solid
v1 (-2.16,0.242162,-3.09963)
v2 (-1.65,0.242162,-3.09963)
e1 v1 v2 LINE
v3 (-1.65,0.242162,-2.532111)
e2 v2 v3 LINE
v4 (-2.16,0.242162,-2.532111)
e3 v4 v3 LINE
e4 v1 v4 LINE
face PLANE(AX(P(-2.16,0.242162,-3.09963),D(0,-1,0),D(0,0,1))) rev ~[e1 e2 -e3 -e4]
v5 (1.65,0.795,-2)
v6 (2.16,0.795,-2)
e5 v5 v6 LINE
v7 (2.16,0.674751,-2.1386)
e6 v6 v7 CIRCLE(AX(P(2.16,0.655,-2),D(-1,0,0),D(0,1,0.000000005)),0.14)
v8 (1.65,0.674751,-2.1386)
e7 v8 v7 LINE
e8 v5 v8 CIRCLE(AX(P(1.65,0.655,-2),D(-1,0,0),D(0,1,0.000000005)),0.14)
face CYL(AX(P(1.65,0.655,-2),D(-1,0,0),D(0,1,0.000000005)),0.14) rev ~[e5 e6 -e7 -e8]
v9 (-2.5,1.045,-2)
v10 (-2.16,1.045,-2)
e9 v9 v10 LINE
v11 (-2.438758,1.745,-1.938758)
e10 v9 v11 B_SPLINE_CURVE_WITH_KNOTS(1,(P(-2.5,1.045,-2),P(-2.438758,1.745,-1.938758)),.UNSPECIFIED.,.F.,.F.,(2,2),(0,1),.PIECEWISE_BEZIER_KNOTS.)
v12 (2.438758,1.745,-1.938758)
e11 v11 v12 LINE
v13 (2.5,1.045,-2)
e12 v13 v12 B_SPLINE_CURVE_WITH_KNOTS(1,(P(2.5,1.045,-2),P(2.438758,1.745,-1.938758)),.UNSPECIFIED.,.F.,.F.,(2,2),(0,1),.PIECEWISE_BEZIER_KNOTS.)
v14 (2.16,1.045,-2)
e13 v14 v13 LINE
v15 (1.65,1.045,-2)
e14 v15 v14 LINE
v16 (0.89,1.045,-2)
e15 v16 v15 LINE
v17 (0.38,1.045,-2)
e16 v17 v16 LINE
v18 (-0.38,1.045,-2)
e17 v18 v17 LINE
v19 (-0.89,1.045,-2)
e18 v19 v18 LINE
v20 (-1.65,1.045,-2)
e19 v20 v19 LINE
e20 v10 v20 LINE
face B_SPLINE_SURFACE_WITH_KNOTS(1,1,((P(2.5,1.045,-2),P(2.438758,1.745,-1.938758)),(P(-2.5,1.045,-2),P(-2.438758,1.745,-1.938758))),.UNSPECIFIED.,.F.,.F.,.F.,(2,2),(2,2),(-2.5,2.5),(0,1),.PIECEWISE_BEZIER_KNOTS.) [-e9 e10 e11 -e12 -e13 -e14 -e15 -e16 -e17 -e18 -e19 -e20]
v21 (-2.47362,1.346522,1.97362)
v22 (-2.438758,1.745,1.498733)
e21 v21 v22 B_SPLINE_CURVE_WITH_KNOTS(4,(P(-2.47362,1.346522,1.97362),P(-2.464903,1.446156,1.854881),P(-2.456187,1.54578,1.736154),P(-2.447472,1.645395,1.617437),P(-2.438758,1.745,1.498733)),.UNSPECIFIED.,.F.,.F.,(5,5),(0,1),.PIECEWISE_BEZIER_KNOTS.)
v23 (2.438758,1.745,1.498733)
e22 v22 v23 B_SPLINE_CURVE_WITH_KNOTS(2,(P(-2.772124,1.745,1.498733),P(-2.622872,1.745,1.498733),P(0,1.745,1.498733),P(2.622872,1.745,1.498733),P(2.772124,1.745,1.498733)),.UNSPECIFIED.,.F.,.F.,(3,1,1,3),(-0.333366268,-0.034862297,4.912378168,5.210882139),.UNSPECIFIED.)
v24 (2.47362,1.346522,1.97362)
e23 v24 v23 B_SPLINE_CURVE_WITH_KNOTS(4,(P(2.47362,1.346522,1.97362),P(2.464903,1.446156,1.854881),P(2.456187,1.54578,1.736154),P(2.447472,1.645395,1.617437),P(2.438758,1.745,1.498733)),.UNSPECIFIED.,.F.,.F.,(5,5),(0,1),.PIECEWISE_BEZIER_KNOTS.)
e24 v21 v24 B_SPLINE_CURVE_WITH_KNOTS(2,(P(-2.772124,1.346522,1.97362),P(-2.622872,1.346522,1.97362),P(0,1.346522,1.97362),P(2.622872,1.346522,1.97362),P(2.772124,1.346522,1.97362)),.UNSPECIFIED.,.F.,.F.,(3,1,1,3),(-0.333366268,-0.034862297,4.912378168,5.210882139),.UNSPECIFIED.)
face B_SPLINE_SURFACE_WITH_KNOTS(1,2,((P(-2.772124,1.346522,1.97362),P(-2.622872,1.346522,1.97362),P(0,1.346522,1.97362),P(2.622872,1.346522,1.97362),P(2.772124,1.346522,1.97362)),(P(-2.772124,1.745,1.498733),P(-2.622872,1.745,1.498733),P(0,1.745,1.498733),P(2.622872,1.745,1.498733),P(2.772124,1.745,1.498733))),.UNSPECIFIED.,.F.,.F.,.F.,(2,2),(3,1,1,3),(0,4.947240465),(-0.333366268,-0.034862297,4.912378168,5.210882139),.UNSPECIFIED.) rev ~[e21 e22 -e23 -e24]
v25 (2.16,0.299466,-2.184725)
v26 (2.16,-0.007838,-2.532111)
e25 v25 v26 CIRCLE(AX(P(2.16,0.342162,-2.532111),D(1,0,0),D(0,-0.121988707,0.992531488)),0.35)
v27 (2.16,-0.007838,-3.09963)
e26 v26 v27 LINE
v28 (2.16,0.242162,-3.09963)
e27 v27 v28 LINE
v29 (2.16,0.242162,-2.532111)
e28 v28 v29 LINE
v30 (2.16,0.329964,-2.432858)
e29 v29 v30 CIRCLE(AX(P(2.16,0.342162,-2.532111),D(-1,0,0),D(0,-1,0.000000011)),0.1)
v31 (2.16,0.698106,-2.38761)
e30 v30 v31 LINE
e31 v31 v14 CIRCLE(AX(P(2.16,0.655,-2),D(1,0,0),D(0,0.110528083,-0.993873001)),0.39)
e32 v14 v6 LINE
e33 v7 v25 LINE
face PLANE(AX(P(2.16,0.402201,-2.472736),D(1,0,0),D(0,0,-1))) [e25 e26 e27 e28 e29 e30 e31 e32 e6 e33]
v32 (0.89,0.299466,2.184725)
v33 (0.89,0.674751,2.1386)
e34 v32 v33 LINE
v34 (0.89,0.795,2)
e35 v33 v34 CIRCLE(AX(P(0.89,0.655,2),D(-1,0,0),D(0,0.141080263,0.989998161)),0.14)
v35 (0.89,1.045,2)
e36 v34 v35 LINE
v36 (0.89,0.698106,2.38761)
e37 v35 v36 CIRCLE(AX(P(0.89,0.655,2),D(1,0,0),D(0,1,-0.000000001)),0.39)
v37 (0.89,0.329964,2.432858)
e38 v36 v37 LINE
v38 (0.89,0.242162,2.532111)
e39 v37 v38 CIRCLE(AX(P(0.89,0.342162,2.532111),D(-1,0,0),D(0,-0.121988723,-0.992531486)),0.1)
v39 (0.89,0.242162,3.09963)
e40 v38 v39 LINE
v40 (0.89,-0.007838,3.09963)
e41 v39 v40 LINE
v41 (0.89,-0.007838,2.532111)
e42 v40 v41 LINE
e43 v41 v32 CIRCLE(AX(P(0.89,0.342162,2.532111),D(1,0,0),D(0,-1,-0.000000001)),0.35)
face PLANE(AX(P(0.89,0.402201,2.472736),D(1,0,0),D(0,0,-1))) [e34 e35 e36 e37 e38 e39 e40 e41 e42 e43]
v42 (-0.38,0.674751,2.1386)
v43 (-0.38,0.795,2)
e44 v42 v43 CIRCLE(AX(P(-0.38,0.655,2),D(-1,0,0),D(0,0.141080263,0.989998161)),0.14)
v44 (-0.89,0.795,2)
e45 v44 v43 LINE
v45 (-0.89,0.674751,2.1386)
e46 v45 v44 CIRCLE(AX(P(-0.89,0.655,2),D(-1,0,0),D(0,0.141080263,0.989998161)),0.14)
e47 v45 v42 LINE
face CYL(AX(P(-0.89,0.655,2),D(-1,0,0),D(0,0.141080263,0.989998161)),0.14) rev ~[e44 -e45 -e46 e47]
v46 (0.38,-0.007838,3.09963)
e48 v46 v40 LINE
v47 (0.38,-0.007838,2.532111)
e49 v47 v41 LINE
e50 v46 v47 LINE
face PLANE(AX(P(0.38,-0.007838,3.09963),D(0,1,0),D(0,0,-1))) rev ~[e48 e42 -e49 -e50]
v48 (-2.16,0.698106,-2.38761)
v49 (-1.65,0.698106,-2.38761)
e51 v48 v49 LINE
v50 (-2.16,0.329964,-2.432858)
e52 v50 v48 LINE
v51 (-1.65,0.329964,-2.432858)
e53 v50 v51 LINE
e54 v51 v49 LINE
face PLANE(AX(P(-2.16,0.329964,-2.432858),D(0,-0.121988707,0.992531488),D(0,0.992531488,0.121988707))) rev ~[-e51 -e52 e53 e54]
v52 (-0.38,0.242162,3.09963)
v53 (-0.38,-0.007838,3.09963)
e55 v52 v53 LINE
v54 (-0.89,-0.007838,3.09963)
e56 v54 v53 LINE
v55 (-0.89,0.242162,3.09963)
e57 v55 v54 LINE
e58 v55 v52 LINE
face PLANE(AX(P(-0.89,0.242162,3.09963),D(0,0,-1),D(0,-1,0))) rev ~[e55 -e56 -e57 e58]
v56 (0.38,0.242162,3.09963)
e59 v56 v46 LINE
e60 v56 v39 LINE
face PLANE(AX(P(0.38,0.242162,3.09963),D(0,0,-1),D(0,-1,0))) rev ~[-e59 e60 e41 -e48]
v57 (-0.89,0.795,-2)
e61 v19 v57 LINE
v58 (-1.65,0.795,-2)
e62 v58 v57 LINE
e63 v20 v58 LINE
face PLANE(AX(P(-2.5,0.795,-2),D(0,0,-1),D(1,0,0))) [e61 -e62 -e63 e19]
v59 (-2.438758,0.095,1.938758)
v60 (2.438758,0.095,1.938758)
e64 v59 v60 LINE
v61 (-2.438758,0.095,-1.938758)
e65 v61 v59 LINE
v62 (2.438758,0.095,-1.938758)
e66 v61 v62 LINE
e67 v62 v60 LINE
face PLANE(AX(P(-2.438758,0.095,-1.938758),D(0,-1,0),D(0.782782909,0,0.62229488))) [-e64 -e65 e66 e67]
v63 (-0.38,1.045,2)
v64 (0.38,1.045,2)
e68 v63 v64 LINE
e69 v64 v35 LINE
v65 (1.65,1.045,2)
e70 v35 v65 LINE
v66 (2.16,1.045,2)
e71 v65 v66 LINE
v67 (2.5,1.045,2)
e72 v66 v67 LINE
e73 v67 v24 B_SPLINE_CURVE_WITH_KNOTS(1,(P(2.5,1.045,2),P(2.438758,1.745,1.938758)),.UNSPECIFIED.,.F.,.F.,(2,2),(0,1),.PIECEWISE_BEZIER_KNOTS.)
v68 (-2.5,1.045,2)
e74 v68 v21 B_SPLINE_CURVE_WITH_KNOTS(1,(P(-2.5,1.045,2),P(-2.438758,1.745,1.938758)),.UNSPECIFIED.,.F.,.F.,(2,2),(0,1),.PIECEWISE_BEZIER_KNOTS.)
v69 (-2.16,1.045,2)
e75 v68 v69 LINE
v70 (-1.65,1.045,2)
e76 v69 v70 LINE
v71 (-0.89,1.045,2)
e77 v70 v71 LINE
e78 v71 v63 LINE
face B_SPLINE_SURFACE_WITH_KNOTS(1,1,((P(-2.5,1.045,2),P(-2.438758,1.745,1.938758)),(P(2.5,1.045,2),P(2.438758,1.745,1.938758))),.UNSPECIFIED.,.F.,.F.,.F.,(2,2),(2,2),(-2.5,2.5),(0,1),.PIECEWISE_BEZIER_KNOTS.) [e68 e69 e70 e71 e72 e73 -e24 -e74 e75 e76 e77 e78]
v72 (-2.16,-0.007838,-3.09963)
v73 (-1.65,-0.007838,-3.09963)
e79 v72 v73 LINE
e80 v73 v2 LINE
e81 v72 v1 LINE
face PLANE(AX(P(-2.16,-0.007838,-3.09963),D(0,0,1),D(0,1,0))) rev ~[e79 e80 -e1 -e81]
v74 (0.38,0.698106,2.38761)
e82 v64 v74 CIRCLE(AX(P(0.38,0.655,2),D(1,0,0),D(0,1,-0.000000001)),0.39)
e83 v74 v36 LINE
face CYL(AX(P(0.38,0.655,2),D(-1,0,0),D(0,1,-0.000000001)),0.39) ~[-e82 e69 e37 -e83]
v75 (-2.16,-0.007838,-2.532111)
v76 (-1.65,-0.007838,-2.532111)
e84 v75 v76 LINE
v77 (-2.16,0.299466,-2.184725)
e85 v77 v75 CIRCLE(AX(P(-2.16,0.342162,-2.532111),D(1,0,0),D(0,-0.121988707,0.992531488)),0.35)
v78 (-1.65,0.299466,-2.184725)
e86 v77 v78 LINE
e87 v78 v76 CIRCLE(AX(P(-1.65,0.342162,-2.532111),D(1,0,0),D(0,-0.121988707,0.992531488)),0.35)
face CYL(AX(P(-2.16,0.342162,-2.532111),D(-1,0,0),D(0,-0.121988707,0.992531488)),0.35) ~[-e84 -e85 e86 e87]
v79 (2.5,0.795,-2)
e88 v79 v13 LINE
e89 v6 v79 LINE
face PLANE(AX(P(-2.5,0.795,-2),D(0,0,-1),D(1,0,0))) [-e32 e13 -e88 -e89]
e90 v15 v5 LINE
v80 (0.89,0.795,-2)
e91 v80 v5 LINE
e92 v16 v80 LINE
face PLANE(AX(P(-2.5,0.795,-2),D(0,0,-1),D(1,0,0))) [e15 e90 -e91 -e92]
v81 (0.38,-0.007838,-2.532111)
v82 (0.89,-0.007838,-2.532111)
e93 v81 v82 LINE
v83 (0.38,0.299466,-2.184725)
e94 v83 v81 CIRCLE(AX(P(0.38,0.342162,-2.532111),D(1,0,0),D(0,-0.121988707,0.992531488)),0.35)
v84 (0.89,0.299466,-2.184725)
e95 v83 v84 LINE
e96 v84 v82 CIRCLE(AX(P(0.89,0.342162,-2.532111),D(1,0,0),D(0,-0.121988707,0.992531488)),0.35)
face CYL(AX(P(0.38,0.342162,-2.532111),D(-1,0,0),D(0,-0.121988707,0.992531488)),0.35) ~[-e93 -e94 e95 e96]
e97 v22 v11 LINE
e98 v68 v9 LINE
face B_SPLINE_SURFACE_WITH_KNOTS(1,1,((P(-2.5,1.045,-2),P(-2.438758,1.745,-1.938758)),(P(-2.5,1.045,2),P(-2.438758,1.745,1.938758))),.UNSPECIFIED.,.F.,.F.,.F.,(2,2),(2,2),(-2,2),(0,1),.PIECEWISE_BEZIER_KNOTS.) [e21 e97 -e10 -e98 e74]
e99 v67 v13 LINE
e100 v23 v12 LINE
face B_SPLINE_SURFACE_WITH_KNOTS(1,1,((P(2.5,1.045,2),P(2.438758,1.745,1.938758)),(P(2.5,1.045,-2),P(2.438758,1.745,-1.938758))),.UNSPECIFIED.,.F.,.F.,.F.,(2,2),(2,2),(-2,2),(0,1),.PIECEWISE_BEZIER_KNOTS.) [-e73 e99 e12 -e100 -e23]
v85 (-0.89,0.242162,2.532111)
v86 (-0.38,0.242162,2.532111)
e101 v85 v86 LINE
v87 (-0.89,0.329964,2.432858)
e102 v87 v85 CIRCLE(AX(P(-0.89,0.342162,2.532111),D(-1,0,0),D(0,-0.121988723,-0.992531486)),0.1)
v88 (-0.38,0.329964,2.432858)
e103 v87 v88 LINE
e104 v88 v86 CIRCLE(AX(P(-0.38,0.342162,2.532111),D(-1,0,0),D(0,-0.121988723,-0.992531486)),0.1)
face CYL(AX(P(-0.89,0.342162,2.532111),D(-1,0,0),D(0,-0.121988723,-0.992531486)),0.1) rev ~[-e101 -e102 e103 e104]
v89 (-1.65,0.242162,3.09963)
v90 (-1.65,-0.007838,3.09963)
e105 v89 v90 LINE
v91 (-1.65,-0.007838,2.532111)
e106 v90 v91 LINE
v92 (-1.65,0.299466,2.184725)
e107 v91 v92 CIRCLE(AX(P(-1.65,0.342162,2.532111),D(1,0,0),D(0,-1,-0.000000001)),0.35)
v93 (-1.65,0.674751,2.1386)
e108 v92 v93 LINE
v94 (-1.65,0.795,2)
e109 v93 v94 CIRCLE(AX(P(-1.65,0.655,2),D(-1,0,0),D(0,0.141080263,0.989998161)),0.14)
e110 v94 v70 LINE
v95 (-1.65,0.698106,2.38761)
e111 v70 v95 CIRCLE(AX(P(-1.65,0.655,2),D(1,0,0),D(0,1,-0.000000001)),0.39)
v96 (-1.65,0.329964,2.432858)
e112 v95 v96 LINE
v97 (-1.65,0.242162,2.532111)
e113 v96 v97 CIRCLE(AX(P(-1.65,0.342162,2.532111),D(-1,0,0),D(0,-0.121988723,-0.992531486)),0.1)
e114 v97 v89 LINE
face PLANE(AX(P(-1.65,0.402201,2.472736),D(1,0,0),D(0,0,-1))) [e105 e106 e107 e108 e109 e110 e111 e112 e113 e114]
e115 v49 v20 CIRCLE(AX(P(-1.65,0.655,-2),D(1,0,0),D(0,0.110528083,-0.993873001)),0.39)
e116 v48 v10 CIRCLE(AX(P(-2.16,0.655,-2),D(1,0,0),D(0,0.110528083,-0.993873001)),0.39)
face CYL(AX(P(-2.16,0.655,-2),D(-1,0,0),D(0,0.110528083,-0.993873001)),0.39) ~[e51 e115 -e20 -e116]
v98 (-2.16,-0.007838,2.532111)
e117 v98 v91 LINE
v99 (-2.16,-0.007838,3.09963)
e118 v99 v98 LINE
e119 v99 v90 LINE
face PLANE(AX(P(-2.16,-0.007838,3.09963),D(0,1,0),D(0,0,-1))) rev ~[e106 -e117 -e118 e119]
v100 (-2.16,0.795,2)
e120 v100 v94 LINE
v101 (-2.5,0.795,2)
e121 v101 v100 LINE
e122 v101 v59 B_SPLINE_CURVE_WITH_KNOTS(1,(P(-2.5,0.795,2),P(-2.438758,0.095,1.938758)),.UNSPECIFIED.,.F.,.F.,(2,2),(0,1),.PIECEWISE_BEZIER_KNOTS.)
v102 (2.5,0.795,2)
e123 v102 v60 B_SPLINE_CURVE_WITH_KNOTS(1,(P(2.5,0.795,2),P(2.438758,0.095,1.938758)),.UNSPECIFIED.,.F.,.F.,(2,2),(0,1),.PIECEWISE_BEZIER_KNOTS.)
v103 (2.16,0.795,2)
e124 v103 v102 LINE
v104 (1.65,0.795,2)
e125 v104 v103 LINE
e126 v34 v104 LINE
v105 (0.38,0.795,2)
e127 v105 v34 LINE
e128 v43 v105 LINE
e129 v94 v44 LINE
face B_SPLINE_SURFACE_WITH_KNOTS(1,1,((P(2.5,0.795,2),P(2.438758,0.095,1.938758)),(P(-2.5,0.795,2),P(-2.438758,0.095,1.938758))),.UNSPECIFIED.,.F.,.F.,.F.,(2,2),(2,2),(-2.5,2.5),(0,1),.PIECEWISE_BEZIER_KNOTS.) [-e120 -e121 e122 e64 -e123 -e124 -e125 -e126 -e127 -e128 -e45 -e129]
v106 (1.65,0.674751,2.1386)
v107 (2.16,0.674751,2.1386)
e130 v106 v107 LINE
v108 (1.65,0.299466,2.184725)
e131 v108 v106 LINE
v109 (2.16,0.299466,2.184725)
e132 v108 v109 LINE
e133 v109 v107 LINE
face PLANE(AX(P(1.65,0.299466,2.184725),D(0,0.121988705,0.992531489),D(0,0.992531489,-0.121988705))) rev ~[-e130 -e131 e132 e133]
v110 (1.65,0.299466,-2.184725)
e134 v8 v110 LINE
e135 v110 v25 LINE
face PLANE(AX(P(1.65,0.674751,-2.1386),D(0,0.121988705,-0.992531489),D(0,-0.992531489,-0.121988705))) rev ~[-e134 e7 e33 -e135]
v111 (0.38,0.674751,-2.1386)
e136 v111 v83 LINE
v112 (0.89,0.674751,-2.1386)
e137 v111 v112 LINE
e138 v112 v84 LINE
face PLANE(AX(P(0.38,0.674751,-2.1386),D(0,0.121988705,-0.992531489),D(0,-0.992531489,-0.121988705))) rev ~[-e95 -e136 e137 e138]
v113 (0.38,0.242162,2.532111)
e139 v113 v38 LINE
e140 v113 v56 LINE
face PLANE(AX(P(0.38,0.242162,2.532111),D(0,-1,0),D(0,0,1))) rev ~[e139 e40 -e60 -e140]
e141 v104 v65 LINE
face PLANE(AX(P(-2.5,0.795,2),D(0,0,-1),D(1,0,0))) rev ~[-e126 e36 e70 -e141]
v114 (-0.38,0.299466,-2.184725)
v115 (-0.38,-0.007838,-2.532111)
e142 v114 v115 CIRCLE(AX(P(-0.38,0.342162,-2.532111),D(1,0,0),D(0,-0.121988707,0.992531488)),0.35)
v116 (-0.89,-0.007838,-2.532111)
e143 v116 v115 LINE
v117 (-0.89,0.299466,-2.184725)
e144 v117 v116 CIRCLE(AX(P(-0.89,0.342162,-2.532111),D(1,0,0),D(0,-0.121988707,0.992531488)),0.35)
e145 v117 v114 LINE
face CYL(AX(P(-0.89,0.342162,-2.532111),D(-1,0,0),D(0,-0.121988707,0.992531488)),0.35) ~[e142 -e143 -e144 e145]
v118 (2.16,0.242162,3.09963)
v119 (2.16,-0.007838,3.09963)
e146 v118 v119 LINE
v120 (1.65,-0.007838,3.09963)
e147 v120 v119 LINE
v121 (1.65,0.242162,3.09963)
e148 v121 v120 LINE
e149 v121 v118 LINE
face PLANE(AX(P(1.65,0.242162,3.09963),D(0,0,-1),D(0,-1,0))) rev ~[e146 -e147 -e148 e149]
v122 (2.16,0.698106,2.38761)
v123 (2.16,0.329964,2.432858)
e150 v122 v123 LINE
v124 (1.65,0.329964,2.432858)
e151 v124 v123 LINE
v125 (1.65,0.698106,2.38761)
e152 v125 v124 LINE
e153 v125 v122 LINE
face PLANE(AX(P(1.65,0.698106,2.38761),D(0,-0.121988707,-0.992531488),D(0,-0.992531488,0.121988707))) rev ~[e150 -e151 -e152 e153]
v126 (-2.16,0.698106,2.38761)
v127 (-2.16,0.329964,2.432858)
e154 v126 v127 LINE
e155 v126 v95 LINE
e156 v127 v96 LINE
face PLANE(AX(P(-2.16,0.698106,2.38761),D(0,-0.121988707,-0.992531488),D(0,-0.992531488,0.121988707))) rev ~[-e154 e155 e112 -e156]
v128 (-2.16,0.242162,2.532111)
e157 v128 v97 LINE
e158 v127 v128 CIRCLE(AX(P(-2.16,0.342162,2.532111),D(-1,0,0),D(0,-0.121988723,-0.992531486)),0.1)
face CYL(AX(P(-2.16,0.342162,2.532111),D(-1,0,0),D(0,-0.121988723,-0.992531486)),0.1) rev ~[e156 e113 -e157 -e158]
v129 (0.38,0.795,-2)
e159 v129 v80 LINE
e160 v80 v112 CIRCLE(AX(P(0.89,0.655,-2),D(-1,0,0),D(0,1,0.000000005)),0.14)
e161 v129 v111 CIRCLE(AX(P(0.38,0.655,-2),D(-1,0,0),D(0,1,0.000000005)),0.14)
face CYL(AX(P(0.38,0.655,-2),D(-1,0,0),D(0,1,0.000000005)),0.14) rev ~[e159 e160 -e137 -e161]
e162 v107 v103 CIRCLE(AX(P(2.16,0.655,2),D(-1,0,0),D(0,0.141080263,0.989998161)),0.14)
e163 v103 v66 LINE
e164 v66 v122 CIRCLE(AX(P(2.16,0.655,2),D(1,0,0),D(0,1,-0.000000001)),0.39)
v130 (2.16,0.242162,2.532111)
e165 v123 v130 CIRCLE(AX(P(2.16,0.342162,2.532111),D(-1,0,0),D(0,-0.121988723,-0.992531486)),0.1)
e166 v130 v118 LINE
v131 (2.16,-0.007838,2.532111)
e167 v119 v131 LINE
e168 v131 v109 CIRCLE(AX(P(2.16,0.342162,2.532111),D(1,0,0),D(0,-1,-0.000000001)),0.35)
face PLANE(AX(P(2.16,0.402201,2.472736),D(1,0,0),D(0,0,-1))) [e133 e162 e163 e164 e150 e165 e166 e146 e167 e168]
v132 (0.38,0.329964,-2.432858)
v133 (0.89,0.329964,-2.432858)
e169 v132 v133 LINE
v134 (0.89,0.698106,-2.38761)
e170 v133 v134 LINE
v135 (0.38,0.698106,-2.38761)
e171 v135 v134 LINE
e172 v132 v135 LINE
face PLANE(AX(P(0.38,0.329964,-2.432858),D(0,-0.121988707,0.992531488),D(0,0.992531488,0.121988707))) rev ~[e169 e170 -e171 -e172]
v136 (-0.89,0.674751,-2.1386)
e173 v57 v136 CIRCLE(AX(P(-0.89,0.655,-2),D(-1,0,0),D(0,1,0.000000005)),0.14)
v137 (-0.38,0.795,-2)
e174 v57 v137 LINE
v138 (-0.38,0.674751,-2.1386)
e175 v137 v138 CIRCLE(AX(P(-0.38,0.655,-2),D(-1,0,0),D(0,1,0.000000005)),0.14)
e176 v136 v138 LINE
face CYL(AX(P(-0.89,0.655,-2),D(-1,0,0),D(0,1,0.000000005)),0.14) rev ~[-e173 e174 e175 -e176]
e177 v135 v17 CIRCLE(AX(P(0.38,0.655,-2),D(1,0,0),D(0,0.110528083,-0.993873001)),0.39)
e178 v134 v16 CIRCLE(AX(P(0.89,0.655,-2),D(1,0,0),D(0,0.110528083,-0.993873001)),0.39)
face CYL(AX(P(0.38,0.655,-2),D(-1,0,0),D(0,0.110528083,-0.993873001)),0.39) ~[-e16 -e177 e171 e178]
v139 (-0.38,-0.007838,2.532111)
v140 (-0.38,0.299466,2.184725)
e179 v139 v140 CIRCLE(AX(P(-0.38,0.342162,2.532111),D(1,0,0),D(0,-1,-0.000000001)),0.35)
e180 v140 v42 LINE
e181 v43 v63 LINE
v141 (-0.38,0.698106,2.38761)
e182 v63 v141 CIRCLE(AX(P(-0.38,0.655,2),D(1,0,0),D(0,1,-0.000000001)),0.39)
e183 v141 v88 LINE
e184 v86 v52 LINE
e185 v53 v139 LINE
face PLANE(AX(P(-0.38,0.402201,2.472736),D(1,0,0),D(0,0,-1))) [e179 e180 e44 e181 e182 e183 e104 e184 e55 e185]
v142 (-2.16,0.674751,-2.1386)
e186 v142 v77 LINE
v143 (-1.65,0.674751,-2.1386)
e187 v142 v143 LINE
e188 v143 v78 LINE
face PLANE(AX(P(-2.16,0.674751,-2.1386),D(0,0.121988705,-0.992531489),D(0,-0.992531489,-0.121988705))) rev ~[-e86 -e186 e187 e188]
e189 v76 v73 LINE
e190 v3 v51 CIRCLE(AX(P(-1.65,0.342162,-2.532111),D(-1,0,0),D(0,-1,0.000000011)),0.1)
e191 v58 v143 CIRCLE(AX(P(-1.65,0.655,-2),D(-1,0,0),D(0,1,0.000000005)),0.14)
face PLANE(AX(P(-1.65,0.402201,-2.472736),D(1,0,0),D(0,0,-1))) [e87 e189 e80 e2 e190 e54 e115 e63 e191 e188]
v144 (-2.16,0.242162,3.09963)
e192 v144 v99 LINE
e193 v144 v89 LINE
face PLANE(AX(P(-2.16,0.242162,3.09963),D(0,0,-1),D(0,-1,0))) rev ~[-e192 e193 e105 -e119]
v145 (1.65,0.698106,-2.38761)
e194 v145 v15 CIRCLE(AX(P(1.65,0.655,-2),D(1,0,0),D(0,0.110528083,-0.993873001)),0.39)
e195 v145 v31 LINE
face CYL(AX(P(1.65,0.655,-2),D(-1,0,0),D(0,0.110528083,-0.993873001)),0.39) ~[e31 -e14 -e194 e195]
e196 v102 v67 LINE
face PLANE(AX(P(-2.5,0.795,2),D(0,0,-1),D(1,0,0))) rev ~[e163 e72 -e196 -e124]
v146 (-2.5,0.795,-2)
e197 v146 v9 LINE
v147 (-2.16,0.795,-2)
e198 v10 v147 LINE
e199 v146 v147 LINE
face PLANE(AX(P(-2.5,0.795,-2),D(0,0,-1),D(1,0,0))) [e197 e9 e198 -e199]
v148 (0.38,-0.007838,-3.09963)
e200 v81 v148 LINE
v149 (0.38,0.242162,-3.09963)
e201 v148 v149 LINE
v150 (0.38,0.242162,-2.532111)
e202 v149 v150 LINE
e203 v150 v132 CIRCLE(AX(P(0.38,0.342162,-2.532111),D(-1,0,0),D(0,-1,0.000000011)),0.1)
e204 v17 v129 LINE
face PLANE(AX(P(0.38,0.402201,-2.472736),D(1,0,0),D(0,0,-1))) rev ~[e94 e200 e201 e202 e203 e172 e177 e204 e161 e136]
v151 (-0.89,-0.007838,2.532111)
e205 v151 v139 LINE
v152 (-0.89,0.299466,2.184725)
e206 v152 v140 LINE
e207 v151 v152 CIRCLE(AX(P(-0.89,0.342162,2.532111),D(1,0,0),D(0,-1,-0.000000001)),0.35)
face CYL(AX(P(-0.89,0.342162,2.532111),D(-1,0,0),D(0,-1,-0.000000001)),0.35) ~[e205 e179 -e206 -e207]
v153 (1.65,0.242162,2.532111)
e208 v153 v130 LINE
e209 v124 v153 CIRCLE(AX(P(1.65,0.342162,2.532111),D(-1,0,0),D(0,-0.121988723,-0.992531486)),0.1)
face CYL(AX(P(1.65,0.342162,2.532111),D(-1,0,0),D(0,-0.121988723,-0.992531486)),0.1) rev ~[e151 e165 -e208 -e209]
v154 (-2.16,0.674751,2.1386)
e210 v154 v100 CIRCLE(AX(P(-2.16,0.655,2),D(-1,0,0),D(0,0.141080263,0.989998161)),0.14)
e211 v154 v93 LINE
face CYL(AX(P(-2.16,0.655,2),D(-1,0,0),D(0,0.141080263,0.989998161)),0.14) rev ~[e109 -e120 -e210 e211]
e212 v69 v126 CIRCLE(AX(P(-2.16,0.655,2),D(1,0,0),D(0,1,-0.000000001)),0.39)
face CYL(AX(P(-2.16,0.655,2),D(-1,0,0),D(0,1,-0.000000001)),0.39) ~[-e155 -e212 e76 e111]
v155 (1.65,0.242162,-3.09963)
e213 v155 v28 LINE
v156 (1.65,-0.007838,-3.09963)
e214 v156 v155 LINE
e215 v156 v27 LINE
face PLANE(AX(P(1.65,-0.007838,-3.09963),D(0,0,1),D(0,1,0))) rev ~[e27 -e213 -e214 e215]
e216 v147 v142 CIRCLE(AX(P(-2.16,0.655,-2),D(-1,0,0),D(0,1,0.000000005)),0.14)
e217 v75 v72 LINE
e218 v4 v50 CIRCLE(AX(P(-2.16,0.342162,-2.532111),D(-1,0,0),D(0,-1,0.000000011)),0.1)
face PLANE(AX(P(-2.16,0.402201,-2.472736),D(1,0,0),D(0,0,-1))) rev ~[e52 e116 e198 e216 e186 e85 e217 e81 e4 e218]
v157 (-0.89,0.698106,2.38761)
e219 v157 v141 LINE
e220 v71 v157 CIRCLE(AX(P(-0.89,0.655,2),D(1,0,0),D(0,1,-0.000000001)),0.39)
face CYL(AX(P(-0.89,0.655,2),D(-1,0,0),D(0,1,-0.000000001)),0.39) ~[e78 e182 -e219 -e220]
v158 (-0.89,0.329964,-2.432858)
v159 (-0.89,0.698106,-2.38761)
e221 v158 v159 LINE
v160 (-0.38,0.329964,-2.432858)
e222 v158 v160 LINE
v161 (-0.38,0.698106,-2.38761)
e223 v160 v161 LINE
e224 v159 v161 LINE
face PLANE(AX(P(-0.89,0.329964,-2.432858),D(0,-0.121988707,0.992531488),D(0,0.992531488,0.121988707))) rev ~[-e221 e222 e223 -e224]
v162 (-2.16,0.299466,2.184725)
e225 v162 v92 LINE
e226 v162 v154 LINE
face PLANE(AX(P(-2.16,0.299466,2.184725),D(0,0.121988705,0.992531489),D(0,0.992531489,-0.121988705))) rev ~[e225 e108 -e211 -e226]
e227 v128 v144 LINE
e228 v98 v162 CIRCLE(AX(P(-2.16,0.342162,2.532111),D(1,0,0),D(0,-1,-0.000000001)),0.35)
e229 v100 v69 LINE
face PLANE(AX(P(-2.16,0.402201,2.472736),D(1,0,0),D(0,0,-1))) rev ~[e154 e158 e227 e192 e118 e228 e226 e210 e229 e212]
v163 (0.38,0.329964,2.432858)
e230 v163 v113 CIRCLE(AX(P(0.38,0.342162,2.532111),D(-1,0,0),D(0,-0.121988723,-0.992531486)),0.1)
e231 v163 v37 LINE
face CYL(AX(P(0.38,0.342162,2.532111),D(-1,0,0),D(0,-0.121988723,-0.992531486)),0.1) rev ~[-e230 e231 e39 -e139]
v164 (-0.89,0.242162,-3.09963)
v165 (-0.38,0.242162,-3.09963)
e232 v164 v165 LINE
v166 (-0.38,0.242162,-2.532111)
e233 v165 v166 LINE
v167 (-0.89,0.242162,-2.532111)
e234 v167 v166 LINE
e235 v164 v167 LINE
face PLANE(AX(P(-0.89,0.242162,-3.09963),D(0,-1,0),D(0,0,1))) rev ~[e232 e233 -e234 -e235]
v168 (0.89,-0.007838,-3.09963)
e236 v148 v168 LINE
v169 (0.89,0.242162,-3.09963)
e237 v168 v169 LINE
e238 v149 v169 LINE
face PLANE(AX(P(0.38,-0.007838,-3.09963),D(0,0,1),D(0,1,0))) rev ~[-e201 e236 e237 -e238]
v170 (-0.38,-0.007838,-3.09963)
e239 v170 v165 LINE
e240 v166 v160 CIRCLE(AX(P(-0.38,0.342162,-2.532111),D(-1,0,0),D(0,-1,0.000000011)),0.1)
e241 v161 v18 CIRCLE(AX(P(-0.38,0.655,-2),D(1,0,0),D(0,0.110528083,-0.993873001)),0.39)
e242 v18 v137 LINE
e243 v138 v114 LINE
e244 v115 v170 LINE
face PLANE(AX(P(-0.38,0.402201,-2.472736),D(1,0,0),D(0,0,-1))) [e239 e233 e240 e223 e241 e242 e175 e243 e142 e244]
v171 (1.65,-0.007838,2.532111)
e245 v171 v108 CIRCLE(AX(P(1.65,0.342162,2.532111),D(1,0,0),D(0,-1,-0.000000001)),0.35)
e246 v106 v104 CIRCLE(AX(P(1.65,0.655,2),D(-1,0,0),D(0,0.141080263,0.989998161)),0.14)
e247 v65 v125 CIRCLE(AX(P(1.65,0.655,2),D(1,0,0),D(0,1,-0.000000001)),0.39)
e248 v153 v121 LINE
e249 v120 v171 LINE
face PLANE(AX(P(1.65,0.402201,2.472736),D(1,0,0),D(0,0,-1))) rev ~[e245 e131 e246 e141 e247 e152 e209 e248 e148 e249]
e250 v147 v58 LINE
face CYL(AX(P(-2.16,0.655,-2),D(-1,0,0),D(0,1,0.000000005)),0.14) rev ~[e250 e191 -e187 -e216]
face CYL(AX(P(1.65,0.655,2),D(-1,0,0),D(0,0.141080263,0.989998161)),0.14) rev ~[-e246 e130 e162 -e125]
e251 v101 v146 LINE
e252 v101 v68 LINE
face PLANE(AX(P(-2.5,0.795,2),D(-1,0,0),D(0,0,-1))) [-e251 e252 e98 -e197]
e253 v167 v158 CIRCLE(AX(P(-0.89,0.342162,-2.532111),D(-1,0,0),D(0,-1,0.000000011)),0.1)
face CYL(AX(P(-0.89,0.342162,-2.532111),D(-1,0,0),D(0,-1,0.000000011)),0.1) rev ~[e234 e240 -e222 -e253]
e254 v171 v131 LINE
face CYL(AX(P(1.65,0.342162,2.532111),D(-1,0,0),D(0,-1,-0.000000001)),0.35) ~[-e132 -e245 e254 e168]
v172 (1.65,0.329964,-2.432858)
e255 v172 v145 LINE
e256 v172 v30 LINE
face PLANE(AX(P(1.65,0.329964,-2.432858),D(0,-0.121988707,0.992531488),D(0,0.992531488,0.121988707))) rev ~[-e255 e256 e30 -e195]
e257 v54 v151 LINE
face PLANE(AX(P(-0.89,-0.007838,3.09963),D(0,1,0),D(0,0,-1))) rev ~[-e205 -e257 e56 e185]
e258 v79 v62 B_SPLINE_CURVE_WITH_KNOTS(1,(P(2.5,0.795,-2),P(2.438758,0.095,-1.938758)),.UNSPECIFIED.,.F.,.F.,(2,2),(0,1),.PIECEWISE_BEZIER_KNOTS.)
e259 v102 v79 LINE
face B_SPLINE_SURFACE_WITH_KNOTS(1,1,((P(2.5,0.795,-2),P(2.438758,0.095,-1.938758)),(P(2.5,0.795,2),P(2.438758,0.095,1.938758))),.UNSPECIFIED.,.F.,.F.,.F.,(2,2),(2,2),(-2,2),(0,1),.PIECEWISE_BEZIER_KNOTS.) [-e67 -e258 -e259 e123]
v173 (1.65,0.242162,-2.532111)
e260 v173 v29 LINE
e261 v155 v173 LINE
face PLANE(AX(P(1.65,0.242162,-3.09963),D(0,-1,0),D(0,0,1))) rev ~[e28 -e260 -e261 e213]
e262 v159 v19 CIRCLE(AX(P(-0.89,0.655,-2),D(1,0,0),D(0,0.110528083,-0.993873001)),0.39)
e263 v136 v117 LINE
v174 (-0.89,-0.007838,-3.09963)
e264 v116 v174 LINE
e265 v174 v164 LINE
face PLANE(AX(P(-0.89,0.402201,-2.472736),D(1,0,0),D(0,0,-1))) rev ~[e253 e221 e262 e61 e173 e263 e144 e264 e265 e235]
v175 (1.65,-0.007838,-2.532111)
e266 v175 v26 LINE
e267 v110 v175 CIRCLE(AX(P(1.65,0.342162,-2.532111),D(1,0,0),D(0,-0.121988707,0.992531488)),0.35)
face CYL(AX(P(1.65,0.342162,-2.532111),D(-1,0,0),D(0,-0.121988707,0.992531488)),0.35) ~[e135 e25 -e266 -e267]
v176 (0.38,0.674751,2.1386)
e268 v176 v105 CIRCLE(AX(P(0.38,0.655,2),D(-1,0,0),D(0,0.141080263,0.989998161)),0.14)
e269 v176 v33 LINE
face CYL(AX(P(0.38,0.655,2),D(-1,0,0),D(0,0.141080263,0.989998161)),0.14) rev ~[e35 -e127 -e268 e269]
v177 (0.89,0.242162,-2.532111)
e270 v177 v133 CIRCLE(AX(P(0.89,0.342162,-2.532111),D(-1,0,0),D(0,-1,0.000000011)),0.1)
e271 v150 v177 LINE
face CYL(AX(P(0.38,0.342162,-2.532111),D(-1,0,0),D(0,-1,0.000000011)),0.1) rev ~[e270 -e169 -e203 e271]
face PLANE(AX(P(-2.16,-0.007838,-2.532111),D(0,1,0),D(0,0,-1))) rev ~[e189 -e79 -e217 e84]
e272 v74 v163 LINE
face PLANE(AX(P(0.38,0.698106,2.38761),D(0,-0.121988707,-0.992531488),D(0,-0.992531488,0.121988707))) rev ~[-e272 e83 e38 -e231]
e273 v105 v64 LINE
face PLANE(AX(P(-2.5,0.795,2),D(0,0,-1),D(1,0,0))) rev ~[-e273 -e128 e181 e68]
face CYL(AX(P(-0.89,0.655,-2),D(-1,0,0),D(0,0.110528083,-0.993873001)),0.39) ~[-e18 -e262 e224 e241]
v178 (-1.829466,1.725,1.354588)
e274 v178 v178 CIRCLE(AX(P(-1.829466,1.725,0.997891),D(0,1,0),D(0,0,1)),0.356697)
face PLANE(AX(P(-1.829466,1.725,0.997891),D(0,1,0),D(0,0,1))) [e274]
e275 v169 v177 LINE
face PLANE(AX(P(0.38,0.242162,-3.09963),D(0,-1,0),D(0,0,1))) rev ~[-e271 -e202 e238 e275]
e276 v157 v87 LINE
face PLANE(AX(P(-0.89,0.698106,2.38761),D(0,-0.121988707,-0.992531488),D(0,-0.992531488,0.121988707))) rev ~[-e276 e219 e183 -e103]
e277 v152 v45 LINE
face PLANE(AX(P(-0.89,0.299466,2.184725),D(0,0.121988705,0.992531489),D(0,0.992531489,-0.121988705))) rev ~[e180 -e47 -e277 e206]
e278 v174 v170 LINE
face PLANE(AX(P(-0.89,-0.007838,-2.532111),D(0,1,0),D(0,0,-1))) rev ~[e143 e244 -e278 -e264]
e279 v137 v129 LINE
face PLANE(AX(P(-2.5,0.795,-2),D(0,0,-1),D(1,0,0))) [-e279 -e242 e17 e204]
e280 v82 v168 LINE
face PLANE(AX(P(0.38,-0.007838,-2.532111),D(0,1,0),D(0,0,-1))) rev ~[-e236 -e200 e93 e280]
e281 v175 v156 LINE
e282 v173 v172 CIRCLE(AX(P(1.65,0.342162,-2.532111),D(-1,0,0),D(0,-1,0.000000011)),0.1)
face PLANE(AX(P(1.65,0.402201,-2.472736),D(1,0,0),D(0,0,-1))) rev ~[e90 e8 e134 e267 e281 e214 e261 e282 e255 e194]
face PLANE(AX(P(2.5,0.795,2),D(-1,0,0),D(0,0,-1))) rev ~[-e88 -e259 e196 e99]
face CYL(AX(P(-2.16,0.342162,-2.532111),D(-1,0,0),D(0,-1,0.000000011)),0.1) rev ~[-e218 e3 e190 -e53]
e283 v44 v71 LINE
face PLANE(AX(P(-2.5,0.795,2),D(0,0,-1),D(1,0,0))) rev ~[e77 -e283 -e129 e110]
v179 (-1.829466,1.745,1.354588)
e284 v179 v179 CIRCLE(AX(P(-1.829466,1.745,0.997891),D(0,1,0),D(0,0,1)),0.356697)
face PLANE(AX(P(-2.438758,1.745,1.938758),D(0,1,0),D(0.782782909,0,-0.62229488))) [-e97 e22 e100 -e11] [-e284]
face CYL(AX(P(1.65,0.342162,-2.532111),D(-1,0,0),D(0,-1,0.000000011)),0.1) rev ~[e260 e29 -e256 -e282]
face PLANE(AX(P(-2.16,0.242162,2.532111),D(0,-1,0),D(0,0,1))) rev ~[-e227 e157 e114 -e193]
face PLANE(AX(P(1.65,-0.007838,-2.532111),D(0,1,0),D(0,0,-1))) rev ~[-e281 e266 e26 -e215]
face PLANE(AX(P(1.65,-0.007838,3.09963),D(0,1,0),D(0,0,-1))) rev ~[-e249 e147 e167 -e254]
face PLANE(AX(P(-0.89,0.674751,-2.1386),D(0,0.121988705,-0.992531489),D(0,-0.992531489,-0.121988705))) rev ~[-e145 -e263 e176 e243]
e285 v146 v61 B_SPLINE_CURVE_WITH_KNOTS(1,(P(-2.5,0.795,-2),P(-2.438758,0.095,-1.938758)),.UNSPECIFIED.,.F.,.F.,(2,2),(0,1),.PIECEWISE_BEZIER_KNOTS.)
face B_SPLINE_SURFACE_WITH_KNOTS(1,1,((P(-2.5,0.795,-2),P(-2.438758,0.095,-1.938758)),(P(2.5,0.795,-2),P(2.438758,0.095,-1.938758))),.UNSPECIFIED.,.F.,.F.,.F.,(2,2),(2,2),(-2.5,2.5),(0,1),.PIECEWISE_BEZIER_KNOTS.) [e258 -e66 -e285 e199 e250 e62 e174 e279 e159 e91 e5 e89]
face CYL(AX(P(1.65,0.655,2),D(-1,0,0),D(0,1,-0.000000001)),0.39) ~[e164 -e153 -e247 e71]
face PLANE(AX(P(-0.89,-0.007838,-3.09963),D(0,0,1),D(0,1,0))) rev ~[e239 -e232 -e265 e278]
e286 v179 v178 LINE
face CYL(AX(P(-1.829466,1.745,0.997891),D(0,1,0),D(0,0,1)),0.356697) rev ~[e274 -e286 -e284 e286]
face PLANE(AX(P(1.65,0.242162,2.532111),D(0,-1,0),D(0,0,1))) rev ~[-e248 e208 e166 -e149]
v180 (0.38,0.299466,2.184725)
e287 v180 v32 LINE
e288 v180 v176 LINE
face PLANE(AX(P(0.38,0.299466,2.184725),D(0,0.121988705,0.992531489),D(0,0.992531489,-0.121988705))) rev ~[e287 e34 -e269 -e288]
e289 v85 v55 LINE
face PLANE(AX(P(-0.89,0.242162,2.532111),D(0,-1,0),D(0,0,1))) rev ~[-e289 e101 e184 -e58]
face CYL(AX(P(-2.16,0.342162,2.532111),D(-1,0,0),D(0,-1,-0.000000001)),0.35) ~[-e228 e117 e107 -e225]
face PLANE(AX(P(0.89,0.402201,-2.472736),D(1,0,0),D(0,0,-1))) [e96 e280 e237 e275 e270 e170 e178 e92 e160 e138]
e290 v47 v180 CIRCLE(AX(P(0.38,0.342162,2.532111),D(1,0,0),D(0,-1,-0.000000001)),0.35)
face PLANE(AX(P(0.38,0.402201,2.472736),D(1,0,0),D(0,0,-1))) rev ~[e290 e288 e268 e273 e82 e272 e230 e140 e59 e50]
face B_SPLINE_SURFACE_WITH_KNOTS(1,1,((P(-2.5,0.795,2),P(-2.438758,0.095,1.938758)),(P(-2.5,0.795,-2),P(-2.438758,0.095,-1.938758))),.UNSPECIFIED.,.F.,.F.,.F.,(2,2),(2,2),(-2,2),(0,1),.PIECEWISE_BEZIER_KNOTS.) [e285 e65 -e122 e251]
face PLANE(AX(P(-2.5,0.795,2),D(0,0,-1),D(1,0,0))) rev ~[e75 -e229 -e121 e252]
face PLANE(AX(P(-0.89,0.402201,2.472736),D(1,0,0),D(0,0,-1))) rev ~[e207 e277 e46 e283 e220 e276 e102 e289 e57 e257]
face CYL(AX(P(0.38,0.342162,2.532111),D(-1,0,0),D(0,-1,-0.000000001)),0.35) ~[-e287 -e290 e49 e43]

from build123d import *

# Parameters (mm, degrees)
BOSS_EXTRUDE1_DEPTH      = 0.125
BOSS_EXTRUDE1_DEPTH_BACK = 0.125
SKETCH1_W                = 5
SKETCH1_H                = 4
SKETCH2_W                = 5
SKETCH2_H                = 4
BOSS_EXTRUDE2_DEPTH      = 0.7
BOSS_EXTRUDE2_TAPER      = 5
SKETCH3_W                = 5
SKETCH3_H                = 4
BOSS_EXTRUDE3_DEPTH      = 0.7
BOSS_EXTRUDE3_TAPER      = 5
CHAMFER1_SIZE            = 0.4
CHAMFER1_SIZE2           = 0.440025147
BOSS_EXTRUDE4_START      = 0.38
BOSS_EXTRUDE4_DEPTH      = 0.51
LPATTERN1_COUNT          = 2
LPATTERN1_PITCH          = 1.27
LPATTERN1_COL_COUNT      = 3
LPATTERN1_COL_PITCH      = 1.27
SKETCH6_R                = 0.356697025
CUT_EXTRUDE1_DEPTH       = 0.02


with BuildPart() as part:
    # Sketch1 → Boss-Extrude1 (new, two sides: drawn at the far end of the back side and taken through both)
    with BuildSketch(Plane(origin=(0, 0.92, 0), x_dir=(1, 0, 0), z_dir=(0, 1, 0)).offset(-BOSS_EXTRUDE1_DEPTH_BACK)):
        Rectangle(SKETCH1_W, SKETCH1_H)
    extrude(amount=BOSS_EXTRUDE1_DEPTH + BOSS_EXTRUDE1_DEPTH_BACK)

    # Sketch2 → Boss-Extrude2 (add)
    with BuildSketch(Plane(origin=(0, 1.045, 0), x_dir=(1, 0, 0), z_dir=(0, 1, 0))):
        Rectangle(SKETCH2_W, SKETCH2_H)
    extrude(amount=BOSS_EXTRUDE2_DEPTH, taper=BOSS_EXTRUDE2_TAPER)

    # Sketch3 → Boss-Extrude3 (add)
    with BuildSketch(Plane.XZ.offset(-0.795)):
        Rectangle(SKETCH3_W, SKETCH3_H)
    extrude(amount=BOSS_EXTRUDE3_DEPTH, taper=BOSS_EXTRUDE3_TAPER)

    # Chamfer1
    chamfer1_edges = [part.edges().sort_by_distance(p)[0] for p in [
        (0, 1.745, 1.938757936),
    ]]
    chamfer1_side = [part.faces().sort_by_distance(p)[0] for p in [
        (0, 1.393553299, 1.969505538),
    ]]
    chamfer(chamfer1_edges, length=CHAMFER1_SIZE, length2=CHAMFER1_SIZE2, reference=chamfer1_side[0])

    # Sketch5 → Boss-Extrude4 (add)
    with BuildSketch(Plane(origin=(0, 0, 0), x_dir=(0, 0, -1), z_dir=(1, 0, 0)).offset(BOSS_EXTRUDE4_START)):
        with BuildLine():
            Line((2.43285762, 0.329963507), (2.38761047, 0.698105953))
            ThreePointArc((2.38761047, 0.698105953), (2.260085254, 0.945612561), (2, 1.045))
            Line((2, 1.045), (2, 0.795))
            ThreePointArc((2, 0.795), (2.091746463, 0.76074775), (2.138599743, 0.674751237))
            Line((2.138599743, 0.674751237), (2.184724748, 0.299466331))
            ThreePointArc((2.184724748, 0.299466331), (2.300209515, 0.080013931), (2.532110769, -0.007837622))
            Line((2.532110769, -0.007837622), (3.099630301, -0.007837622))
            Line((3.099630301, -0.007837622), (3.099630301, 0.242162378))
            Line((3.099630301, 0.242162378), (2.532110769, 0.242162378))
            ThreePointArc((2.532110769, 0.242162378), (2.465853268, 0.267262822), (2.43285762, 0.329963507))
        make_face()
        with BuildLine():
            ThreePointArc((-2.138599743, 0.674751237), (-2.091746463, 0.76074775), (-2, 0.795))
            Line((-2, 0.795), (-2, 1.045))
            ThreePointArc((-2, 1.045), (-2.260085254, 0.945612561), (-2.38761047, 0.698105953))
            Line((-2.38761047, 0.698105953), (-2.43285762, 0.329963507))
            ThreePointArc((-2.43285762, 0.329963507), (-2.465853268, 0.267262822), (-2.532110769, 0.242162378))
            Line((-2.532110769, 0.242162378), (-3.099630301, 0.242162378))
            Line((-3.099630301, 0.242162378), (-3.099630301, -0.007837622))
            Line((-3.099630301, -0.007837622), (-2.532110769, -0.007837622))
            ThreePointArc((-2.532110769, -0.007837622), (-2.300209515, 0.080013931), (-2.184724748, 0.299466331))
            Line((-2.184724748, 0.299466331), (-2.138599743, 0.674751237))
        make_face()
    boss_extrude4 = extrude(amount=BOSS_EXTRUDE4_DEPTH)

    # LPattern1: Boss-Extrude4 ×2
    with Locations(*[(i * LPATTERN1_PITCH, 0, 0) for i in range(1, LPATTERN1_COUNT)]):
        add(boss_extrude4)

    # LPattern1 col: Boss-Extrude4 ×3
    with Locations(*[(-i * LPATTERN1_COL_PITCH, 0, 0) for i in range(1, LPATTERN1_COL_COUNT)]):
        add(boss_extrude4)

    # Sketch6 → Cut-Extrude1 (cut)
    with BuildSketch(Plane(origin=(0, 1.745, 0), x_dir=(1, 0, 0), z_dir=(0, 1, 0))):
        with Locations(Location((-1.829466097, -0.997890598, 0), (0, 0, 270))):
            Circle(SKETCH6_R)
    extrude(amount=-CUT_EXTRUDE1_DEPTH, mode=Mode.SUBTRACT)


solid = part.part
